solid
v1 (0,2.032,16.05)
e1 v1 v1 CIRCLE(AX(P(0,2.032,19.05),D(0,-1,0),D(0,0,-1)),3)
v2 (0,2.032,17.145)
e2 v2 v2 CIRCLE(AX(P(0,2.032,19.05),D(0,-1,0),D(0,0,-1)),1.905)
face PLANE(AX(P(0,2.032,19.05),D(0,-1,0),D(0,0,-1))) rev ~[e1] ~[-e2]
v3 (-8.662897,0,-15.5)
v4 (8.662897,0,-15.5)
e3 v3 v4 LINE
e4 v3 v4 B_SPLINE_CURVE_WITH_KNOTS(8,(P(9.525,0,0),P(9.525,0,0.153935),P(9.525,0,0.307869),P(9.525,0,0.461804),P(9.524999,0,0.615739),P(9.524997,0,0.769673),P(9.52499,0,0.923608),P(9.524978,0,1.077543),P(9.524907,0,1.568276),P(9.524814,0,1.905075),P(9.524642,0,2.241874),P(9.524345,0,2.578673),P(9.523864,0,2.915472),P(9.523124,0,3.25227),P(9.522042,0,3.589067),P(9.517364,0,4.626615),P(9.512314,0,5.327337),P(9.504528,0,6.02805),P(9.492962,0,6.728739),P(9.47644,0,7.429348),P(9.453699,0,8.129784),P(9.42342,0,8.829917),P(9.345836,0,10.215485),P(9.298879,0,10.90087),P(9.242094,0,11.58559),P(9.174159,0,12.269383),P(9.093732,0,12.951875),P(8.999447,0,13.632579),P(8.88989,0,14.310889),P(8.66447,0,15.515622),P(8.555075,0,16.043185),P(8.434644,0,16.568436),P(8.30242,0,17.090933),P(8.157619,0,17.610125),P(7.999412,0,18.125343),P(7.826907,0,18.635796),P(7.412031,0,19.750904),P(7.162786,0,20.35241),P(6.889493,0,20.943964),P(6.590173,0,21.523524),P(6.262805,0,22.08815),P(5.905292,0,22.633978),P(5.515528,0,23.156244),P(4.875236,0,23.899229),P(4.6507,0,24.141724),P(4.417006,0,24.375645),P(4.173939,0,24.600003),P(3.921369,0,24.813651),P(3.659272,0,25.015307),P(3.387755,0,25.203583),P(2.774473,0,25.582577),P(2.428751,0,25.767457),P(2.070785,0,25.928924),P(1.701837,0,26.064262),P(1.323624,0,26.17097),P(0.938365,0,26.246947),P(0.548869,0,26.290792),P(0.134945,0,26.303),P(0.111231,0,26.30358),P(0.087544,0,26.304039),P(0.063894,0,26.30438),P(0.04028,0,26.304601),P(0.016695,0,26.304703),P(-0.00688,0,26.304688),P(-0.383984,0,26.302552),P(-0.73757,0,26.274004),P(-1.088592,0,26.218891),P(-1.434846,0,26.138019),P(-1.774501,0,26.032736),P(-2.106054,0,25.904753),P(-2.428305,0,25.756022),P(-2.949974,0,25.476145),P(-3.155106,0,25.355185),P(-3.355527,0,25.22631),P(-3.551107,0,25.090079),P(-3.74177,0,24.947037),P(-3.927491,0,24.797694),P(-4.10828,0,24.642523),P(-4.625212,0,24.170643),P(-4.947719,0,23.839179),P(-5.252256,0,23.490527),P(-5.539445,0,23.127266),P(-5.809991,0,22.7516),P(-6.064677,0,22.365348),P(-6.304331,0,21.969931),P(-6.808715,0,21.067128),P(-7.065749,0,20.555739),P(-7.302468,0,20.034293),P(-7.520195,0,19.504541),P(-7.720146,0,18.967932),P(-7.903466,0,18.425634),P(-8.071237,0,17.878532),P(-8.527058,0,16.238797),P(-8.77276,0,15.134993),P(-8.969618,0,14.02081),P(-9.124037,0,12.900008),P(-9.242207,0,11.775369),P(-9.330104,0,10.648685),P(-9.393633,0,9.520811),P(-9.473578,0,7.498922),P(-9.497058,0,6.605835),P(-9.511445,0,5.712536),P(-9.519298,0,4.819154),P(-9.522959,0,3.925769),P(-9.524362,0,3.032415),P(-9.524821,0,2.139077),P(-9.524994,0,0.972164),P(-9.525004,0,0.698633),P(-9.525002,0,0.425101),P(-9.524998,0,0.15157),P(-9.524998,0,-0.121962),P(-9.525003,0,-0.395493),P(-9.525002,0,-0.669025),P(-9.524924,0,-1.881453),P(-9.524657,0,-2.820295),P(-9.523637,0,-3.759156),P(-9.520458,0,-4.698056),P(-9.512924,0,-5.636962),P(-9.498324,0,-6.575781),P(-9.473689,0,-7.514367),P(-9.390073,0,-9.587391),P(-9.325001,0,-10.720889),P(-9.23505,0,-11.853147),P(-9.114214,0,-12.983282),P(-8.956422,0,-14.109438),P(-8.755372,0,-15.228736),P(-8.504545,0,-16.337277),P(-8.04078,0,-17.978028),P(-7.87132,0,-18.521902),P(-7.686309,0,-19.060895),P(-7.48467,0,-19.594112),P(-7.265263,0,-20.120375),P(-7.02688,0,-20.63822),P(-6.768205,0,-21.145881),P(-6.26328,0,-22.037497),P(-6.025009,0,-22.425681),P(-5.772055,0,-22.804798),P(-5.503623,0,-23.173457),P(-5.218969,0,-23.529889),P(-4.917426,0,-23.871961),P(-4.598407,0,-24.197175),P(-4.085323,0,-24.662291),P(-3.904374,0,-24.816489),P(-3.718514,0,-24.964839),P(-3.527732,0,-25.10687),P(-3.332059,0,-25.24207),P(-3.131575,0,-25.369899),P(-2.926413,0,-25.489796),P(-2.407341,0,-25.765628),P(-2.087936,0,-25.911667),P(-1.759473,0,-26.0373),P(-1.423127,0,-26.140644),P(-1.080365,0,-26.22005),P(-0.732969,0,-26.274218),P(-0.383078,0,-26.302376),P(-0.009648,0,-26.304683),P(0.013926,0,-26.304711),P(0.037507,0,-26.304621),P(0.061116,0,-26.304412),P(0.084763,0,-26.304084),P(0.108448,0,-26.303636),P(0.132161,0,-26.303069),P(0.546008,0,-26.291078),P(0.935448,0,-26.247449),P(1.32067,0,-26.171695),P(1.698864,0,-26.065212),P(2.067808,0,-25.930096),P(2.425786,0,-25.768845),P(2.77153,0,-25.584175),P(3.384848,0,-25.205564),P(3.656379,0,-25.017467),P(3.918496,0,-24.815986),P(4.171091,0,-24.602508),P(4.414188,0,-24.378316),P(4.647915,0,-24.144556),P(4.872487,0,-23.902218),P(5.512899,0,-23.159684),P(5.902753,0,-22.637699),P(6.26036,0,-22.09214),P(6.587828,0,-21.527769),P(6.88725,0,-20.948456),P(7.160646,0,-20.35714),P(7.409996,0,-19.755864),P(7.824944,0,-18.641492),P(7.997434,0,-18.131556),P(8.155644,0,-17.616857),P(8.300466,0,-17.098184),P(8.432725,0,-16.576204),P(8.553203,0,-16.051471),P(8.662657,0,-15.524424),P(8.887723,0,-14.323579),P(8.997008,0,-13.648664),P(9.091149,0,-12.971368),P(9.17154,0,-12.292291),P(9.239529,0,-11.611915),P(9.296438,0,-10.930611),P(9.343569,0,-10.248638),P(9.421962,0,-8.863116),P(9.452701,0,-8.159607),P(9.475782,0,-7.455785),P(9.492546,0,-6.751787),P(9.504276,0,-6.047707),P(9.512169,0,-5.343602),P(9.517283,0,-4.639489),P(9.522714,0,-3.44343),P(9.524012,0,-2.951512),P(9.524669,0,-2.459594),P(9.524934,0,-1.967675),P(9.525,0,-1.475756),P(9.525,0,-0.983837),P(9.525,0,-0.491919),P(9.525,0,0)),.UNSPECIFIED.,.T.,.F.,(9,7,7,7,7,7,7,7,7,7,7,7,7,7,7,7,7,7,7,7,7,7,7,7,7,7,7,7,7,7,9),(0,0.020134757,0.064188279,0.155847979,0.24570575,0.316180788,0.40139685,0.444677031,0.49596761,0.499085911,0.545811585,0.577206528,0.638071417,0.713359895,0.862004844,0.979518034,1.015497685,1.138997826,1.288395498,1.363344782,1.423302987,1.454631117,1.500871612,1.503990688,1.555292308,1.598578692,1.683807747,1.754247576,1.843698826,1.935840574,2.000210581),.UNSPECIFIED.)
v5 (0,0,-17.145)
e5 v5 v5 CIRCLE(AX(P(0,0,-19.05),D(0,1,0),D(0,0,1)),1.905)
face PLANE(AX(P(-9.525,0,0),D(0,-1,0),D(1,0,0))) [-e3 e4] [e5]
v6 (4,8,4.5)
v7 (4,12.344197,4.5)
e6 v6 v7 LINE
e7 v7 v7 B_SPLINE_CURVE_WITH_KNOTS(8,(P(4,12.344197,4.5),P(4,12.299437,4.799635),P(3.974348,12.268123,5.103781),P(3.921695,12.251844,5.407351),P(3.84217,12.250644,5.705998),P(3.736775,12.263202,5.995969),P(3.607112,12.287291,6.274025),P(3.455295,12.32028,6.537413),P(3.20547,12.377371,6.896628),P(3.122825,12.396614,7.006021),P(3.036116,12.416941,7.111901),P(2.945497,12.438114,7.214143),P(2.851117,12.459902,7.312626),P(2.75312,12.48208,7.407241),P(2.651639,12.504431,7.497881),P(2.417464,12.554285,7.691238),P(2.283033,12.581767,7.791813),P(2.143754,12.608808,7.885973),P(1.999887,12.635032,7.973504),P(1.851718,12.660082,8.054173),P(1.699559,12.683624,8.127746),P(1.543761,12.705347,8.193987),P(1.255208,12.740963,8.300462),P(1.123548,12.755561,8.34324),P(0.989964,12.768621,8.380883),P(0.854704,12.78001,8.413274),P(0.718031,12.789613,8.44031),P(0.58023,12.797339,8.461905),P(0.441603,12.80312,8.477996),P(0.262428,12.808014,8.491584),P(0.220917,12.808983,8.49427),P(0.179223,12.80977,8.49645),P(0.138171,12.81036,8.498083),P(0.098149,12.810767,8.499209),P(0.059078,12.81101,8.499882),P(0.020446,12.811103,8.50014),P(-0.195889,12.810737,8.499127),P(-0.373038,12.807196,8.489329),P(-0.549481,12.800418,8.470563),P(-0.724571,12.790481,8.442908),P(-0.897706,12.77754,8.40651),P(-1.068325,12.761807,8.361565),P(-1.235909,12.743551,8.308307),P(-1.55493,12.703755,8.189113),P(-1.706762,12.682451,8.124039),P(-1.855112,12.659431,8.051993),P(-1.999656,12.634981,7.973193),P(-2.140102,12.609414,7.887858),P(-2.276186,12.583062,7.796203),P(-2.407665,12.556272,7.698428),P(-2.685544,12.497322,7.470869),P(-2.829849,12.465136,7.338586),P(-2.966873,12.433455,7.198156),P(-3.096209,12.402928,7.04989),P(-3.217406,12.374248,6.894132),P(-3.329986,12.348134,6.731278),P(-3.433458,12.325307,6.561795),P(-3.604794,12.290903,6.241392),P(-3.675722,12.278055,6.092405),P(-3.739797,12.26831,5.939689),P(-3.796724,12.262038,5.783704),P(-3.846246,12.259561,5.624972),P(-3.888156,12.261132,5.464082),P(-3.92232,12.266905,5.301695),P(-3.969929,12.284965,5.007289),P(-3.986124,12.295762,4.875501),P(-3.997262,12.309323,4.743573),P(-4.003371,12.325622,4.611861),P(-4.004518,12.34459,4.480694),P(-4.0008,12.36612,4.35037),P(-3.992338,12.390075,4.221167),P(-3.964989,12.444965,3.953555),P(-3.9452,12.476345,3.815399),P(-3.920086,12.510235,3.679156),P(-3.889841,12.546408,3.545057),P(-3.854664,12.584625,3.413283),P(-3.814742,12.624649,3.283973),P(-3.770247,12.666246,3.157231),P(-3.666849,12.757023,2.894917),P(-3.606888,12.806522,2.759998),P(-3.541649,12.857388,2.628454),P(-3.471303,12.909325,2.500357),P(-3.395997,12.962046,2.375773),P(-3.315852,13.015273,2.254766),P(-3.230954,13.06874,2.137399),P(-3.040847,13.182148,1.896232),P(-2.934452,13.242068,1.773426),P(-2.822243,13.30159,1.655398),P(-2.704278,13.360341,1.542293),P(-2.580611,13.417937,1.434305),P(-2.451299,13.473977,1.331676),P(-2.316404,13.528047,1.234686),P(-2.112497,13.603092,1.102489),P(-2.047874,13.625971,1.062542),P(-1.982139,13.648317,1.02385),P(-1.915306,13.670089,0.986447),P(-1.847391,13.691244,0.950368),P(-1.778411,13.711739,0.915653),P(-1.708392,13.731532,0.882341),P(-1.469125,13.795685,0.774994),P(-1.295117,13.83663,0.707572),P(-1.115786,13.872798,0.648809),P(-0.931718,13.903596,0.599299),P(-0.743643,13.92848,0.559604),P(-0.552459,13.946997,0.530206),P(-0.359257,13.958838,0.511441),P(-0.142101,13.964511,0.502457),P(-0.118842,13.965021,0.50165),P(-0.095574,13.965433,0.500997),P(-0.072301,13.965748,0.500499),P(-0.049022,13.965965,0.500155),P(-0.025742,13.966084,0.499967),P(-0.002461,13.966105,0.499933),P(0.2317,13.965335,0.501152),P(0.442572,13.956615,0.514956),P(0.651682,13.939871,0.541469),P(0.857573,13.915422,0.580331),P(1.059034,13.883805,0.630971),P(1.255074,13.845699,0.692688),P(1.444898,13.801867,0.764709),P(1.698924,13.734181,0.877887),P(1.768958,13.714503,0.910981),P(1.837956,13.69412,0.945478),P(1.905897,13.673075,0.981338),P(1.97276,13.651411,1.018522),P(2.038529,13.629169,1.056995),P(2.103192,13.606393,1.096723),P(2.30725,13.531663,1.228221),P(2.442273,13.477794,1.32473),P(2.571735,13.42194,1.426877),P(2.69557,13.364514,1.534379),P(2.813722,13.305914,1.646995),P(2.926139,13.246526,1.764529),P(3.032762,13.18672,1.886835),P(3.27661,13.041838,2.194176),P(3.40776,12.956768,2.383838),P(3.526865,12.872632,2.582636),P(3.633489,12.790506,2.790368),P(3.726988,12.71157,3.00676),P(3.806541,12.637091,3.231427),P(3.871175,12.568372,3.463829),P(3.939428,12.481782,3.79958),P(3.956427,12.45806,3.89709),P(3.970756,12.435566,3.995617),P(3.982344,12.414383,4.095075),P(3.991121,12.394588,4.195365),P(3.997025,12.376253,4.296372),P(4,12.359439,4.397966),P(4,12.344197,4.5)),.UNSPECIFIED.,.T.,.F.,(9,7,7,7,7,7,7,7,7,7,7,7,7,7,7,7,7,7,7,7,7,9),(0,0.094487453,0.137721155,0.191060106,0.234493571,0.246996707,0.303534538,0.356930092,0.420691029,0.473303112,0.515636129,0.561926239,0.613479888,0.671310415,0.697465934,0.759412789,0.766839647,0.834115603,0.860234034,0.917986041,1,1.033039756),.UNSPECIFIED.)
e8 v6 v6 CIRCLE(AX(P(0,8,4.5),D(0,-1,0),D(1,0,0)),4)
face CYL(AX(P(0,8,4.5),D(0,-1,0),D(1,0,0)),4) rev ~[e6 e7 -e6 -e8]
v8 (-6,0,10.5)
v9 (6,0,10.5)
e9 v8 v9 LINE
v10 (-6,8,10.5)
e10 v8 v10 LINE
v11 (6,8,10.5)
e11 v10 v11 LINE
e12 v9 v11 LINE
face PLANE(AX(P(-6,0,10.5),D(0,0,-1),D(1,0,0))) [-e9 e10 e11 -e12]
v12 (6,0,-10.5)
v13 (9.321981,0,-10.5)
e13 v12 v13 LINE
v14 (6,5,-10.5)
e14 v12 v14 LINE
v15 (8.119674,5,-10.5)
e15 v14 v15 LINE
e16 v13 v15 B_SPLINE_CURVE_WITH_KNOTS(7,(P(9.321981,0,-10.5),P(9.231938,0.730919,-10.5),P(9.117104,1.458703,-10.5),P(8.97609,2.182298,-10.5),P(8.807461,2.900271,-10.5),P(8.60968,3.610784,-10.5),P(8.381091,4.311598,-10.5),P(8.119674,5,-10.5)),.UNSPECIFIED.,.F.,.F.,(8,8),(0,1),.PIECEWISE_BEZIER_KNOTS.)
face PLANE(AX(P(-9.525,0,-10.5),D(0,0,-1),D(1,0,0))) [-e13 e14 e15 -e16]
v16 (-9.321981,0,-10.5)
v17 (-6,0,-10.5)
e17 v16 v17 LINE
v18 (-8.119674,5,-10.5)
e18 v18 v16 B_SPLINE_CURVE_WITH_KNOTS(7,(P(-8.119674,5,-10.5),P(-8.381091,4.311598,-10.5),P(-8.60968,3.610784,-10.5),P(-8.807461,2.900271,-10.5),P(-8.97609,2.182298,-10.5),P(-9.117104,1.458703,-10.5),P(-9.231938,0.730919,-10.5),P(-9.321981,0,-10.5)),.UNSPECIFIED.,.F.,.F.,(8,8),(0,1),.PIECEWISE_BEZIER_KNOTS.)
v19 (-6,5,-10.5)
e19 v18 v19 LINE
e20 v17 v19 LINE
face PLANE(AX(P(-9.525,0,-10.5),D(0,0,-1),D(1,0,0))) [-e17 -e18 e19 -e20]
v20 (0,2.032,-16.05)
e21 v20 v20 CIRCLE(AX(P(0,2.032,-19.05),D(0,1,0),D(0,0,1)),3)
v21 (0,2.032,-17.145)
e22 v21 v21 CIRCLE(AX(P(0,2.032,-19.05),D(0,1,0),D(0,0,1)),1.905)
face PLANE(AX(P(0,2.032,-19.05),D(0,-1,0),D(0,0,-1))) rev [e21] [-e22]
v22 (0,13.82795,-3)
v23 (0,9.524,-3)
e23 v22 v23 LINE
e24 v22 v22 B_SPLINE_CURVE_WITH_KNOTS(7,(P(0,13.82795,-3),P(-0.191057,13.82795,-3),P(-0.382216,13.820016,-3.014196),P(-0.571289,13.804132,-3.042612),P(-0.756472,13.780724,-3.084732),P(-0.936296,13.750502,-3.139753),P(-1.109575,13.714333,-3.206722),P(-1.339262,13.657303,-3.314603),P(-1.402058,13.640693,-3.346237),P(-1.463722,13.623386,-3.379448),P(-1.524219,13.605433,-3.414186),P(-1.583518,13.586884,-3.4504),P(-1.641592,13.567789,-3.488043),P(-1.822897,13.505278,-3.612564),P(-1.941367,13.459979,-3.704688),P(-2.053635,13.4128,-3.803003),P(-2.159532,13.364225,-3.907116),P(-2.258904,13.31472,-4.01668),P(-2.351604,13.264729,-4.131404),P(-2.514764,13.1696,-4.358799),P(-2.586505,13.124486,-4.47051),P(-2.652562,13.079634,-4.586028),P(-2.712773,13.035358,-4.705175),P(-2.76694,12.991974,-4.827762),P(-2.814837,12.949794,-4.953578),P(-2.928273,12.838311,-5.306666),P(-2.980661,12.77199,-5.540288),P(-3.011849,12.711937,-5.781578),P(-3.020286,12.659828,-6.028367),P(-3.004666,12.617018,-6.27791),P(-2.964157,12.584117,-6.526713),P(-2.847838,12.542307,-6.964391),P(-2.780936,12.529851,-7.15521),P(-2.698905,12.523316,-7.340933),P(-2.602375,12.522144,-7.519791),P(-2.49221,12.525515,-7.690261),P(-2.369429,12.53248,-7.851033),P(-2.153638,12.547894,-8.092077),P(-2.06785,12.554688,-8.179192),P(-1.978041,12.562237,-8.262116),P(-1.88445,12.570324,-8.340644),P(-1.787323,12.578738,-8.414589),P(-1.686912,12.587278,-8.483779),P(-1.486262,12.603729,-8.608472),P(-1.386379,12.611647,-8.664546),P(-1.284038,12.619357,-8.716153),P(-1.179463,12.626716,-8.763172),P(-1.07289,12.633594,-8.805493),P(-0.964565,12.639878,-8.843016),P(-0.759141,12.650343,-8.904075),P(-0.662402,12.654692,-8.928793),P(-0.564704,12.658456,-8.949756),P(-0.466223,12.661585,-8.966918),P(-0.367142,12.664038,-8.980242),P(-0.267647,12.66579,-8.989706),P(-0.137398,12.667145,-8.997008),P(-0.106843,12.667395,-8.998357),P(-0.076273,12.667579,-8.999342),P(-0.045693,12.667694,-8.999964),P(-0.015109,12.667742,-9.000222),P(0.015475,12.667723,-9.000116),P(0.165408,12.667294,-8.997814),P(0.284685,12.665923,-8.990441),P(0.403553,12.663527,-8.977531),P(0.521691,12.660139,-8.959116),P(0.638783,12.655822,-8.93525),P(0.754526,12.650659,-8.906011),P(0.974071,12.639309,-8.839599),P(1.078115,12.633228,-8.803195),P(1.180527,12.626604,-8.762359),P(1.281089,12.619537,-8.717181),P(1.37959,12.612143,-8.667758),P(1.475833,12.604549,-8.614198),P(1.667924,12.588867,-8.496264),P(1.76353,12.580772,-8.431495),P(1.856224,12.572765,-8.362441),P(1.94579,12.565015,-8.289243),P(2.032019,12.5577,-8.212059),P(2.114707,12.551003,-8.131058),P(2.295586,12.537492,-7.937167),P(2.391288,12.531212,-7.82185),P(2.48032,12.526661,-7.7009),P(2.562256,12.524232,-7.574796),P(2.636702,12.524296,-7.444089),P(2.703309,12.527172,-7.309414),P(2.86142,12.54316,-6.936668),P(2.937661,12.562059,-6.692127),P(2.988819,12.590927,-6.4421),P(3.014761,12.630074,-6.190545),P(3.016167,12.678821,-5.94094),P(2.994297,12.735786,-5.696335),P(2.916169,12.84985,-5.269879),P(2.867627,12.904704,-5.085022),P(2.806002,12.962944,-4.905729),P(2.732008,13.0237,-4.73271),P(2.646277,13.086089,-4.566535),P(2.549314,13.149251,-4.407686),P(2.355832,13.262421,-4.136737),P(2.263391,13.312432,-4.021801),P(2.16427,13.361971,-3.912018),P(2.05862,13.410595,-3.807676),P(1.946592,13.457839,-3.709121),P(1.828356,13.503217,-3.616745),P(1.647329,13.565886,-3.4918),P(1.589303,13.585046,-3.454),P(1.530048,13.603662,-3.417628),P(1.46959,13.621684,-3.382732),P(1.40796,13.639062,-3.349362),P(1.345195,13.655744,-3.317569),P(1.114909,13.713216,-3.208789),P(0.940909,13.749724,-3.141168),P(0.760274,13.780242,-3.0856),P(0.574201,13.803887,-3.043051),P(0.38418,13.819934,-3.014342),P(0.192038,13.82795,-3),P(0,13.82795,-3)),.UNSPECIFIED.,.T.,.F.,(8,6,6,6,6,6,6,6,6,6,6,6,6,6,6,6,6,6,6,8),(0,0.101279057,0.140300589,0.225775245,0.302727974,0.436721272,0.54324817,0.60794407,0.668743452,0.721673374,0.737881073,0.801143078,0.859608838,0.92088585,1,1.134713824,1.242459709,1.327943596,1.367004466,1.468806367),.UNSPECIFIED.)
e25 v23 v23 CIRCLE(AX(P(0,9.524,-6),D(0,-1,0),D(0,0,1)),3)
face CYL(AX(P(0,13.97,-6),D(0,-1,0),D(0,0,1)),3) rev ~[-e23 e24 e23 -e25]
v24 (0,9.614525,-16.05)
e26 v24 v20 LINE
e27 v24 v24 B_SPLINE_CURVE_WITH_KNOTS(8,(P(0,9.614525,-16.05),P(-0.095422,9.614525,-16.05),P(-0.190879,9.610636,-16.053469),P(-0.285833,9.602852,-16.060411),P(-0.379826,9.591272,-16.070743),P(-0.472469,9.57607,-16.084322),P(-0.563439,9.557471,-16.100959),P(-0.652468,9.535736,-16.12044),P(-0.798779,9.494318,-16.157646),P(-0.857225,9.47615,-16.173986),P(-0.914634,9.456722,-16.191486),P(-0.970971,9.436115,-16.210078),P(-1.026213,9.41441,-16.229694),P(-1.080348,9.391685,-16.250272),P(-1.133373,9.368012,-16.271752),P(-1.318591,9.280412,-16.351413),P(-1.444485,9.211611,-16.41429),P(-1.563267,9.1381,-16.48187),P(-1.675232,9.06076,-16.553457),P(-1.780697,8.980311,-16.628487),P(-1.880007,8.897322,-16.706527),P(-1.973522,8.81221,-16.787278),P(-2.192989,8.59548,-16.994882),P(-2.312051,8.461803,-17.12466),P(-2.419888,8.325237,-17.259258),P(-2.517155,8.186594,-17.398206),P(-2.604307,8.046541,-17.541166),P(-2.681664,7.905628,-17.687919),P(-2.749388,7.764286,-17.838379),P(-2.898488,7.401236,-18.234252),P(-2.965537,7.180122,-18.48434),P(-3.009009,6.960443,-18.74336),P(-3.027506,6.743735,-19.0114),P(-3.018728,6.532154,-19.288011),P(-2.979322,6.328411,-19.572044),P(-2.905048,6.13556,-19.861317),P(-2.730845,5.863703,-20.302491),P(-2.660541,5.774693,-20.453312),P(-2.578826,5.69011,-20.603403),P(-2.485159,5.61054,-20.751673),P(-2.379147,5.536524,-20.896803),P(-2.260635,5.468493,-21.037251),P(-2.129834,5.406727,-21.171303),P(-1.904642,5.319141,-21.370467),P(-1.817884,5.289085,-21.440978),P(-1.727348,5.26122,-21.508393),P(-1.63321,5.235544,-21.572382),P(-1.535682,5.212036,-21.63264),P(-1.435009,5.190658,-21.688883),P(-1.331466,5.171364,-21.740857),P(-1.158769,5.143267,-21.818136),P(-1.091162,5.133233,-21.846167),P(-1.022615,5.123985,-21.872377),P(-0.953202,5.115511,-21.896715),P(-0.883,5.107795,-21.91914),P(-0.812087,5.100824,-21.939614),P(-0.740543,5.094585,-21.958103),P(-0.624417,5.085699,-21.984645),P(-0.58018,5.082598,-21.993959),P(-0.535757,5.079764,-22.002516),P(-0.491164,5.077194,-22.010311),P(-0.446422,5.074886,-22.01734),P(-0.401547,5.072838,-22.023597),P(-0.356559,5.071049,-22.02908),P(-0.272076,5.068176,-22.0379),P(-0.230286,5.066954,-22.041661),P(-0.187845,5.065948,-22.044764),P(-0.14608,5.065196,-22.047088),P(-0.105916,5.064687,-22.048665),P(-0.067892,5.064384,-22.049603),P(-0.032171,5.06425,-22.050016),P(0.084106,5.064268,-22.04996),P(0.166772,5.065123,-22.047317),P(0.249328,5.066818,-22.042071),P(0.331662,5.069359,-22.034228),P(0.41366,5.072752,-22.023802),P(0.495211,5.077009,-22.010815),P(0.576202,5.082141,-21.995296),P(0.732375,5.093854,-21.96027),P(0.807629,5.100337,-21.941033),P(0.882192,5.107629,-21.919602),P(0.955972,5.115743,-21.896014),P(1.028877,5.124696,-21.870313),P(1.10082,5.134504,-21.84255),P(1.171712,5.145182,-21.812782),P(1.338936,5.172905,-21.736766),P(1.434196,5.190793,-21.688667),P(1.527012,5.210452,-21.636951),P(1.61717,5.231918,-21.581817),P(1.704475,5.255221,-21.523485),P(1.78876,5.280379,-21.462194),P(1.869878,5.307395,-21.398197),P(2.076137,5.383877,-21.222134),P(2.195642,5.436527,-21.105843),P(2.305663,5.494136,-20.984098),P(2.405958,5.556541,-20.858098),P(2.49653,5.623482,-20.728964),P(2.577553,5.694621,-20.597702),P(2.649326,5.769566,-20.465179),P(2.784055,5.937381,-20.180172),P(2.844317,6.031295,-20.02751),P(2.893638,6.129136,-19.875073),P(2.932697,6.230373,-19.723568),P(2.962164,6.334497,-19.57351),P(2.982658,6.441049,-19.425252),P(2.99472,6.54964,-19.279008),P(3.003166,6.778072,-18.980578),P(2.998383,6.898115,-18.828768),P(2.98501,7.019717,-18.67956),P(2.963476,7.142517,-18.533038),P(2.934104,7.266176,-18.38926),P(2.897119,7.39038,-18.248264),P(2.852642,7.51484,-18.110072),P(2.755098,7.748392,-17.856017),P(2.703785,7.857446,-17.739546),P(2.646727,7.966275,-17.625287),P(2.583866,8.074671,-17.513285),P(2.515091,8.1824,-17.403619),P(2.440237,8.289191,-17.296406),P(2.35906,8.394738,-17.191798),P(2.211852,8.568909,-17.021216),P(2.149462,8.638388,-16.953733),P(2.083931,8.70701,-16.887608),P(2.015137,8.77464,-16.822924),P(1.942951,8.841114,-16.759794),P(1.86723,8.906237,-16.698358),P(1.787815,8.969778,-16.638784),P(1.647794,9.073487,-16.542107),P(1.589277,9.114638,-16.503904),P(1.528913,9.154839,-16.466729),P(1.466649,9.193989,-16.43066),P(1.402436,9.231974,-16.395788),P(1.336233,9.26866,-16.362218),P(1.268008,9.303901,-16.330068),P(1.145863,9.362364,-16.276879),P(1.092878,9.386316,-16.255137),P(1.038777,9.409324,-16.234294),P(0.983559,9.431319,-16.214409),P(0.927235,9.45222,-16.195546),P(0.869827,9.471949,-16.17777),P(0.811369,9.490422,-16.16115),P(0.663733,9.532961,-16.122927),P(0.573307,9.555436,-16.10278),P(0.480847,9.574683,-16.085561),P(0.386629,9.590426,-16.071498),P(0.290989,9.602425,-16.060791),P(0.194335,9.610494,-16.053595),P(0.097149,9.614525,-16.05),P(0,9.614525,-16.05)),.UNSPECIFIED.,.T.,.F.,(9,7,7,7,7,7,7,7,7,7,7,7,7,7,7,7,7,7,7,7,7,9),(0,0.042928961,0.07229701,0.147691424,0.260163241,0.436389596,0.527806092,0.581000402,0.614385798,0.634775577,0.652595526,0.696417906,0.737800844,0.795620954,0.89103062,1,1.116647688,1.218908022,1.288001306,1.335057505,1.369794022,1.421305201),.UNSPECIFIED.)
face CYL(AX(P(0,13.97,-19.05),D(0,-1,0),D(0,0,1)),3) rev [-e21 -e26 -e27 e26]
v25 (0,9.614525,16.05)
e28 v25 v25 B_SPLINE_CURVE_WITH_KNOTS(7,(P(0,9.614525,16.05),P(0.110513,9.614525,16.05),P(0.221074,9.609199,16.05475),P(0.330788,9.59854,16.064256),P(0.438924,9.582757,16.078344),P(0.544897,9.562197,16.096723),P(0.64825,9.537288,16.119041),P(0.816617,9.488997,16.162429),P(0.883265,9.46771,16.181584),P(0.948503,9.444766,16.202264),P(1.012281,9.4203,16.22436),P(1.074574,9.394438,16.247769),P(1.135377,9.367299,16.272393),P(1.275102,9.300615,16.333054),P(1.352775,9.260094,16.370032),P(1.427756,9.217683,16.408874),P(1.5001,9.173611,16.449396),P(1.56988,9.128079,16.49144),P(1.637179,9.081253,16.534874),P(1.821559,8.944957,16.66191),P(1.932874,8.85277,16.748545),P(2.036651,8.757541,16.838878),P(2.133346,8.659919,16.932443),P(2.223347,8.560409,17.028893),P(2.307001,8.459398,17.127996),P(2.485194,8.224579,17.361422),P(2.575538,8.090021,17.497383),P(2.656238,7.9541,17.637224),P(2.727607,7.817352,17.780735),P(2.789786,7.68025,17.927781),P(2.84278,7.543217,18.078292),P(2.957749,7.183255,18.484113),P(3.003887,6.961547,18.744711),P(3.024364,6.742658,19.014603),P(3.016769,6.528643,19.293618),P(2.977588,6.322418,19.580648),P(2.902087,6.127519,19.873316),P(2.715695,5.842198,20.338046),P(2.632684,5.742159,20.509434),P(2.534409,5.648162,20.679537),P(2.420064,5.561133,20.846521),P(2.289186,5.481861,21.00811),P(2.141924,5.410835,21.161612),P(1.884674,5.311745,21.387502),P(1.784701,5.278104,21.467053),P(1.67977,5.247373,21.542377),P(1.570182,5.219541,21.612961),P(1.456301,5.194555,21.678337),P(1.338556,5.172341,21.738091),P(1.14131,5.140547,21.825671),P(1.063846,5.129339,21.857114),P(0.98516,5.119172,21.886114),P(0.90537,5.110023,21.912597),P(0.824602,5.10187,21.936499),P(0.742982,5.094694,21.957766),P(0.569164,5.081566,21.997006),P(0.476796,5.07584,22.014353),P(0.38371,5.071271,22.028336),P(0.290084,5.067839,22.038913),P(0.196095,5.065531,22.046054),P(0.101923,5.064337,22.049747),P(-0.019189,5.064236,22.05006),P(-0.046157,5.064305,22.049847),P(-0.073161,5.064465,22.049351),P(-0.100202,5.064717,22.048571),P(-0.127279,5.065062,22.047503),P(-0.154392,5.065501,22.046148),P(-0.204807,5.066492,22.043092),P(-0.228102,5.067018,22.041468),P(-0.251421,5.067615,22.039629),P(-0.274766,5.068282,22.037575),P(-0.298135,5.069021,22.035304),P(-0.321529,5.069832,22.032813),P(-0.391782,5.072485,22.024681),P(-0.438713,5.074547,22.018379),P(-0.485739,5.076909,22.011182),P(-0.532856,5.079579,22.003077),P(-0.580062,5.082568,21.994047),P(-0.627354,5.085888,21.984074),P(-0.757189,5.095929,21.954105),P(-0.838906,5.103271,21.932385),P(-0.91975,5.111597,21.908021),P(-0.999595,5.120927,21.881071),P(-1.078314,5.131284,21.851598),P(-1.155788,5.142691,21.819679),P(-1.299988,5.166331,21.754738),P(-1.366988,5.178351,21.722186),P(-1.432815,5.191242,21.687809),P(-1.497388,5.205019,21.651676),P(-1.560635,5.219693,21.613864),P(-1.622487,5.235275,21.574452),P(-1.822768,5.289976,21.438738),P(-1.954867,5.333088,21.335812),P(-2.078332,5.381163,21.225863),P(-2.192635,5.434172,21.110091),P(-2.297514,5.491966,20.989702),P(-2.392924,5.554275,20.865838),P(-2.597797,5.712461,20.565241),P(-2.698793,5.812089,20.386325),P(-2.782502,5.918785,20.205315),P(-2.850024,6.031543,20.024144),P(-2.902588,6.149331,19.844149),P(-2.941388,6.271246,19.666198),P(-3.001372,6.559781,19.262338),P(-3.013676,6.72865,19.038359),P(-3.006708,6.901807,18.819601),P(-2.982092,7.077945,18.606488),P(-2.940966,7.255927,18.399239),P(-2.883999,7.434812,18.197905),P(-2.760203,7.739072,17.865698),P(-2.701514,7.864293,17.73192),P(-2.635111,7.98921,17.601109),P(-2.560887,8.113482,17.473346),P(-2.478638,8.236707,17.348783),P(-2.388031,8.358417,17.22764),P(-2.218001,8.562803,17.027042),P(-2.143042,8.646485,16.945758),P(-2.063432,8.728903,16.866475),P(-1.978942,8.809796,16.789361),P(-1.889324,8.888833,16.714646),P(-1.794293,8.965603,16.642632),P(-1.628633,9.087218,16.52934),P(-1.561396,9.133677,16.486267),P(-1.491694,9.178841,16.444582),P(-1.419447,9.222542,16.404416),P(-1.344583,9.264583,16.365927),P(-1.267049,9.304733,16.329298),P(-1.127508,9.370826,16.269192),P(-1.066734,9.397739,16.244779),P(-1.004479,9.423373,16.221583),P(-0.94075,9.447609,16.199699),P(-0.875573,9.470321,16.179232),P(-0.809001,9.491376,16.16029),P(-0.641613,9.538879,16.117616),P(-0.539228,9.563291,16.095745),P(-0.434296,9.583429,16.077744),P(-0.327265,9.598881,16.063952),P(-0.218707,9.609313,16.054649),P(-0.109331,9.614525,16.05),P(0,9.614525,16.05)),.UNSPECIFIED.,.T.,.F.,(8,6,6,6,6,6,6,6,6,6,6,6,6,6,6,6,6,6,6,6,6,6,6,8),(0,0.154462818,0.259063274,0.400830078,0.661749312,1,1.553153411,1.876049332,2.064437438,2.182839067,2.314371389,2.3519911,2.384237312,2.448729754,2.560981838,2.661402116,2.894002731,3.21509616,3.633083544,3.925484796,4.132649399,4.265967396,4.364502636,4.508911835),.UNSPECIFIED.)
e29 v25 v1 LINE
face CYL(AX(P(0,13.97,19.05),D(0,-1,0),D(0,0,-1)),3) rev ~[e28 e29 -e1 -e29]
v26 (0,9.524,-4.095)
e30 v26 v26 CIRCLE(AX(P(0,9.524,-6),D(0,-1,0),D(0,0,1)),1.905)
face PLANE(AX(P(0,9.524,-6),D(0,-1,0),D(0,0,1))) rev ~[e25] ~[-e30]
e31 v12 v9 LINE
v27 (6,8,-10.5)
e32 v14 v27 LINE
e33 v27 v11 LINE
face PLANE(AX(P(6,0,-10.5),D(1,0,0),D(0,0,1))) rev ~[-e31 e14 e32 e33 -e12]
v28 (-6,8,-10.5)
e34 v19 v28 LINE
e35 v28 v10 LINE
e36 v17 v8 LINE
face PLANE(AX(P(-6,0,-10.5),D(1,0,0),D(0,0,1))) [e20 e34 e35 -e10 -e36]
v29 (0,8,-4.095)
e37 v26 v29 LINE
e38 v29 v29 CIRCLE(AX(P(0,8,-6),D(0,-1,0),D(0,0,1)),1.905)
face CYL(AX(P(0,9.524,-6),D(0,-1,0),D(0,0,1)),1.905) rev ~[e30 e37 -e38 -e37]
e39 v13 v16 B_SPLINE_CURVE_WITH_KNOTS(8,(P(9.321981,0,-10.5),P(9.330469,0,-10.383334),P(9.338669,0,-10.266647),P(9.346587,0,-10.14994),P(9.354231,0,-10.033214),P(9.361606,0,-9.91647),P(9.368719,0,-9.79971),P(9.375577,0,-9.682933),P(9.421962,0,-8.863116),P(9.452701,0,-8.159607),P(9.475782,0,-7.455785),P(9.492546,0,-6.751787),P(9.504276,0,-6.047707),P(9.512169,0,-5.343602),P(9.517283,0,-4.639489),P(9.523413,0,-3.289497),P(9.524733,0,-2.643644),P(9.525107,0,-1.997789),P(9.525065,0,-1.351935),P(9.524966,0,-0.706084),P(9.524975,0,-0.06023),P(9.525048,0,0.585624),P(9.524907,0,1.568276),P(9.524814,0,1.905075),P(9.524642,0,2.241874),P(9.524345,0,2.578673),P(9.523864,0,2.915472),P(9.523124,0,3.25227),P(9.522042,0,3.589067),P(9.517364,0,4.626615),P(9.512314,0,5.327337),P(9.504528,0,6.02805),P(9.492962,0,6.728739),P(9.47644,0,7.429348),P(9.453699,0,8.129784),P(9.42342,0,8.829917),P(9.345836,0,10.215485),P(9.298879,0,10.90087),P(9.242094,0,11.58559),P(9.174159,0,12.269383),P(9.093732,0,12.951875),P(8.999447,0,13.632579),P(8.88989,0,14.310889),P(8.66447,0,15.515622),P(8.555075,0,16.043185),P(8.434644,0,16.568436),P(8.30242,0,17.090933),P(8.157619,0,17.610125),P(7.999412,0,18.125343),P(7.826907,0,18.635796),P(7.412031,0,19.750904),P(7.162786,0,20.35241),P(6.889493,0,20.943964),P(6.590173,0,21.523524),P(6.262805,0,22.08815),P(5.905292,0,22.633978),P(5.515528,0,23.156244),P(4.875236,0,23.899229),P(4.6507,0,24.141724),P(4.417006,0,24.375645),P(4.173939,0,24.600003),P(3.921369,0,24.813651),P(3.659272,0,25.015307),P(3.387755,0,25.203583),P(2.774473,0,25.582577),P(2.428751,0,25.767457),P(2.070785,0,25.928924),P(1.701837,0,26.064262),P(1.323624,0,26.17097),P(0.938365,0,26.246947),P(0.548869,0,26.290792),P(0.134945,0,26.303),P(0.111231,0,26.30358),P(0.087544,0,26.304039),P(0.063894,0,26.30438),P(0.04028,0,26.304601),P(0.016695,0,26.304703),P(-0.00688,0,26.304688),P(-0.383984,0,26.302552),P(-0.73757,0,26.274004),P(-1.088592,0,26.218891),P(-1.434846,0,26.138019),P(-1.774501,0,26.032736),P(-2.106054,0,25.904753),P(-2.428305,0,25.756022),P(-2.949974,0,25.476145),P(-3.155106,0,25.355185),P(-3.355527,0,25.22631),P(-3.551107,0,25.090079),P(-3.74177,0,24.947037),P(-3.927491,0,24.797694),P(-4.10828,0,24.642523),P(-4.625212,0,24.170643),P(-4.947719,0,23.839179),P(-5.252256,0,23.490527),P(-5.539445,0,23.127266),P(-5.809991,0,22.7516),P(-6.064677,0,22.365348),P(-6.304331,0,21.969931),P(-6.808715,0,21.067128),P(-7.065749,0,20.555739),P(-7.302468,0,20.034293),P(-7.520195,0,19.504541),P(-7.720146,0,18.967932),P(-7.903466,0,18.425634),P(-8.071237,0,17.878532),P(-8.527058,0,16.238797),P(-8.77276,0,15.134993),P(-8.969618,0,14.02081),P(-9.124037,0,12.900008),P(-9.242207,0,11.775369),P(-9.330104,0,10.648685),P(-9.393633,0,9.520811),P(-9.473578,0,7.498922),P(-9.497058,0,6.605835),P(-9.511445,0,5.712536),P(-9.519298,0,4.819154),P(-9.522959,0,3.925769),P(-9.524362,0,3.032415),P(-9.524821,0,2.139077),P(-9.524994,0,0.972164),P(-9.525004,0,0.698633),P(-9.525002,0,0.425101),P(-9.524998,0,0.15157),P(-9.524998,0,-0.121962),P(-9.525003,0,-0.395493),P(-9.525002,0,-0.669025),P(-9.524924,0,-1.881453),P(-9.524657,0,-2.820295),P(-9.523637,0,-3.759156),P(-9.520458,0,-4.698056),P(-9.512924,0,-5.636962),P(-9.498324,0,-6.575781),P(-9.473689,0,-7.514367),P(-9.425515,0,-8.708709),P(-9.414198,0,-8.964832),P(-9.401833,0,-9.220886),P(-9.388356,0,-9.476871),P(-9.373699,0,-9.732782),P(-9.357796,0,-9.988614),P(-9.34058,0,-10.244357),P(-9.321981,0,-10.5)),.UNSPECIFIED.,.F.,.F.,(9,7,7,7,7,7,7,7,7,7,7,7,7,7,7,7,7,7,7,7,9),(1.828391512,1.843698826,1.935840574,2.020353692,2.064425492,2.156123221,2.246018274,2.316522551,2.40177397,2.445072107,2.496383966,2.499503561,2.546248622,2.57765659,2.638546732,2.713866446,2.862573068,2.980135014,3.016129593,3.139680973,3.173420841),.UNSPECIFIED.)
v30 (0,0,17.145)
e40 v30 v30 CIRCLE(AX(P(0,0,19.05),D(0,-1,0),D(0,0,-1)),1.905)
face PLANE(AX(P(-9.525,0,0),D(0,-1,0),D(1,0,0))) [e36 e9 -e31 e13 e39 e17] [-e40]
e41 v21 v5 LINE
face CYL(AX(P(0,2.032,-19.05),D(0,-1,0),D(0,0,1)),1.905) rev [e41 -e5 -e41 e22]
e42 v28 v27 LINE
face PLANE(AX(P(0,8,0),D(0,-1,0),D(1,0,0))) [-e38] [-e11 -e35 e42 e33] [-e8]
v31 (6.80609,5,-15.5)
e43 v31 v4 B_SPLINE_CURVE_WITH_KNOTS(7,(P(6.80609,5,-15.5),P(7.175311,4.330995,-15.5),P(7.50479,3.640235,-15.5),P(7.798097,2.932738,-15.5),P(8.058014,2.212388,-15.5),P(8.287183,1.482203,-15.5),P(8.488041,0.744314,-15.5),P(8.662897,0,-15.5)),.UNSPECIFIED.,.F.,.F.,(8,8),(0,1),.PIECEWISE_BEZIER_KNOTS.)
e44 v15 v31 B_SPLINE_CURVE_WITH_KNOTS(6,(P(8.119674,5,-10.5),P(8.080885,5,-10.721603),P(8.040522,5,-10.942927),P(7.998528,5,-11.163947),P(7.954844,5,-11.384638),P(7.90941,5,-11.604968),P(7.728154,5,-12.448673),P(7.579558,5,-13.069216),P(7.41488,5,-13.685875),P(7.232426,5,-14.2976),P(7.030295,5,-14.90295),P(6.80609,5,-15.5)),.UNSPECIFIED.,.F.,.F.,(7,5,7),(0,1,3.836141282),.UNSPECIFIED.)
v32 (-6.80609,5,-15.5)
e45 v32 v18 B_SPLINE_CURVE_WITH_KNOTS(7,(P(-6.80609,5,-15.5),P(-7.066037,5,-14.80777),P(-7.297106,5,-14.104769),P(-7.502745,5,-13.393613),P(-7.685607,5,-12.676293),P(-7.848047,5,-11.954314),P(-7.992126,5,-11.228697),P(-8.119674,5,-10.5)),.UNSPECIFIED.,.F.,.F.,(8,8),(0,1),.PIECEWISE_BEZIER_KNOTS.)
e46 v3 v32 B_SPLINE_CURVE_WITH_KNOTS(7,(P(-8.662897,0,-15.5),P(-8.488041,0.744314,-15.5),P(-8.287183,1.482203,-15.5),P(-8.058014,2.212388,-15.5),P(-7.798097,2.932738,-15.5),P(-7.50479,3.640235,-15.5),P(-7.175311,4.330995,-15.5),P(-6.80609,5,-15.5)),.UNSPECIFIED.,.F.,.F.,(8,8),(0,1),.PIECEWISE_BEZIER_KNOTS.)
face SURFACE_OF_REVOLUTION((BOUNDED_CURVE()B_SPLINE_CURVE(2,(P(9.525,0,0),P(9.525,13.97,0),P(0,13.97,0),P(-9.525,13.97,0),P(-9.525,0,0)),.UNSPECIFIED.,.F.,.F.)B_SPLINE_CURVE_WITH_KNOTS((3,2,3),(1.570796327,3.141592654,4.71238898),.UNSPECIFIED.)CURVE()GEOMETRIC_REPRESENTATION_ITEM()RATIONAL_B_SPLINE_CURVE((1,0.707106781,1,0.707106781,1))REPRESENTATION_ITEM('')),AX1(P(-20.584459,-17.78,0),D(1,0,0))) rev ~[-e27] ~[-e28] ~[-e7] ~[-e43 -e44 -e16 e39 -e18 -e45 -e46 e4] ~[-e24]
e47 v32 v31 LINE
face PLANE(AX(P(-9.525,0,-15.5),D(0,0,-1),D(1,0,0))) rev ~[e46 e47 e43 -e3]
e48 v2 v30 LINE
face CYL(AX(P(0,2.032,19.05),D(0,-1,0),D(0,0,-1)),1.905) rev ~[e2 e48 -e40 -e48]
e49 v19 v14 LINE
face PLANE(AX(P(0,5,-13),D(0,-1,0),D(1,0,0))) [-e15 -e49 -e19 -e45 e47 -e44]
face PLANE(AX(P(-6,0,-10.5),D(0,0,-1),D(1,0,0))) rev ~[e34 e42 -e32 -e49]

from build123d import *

# Parameters (mm, degrees)
CUT_EXTRUDE1_REACH             = 33.75
SKETCH2_W                      = 19.05
SKETCH2_H                      = 64.439050054
CUT_EXTRUDE1_DIRECTION_2_DEPTH = 32.7500001
SKETCH3_W                      = 12
SKETCH3_H                      = 21
CUT_EXTRUDE2_DEPTH             = 8
SKETCH4_R                      = 4
CUT_EXTRUDE3_DEPTH             = 6.9700001
SKETCH7_W                      = 19.05
SKETCH7_H                      = 5
CUT_EXTRUDE4_DEPTH             = 5


with BuildPart() as part:
    # Sketch1 → Revolve1 (revolve)
    with BuildSketch(Plane.XY):
        with BuildLine():
            Line((-9.525, 0), (-9.525, -17.78))
            Line((-9.525, -17.78), (9.525, -17.78))
            Line((9.525, -17.78), (9.525, 0))
            add(Edge.make_bspline(
                [(9.525, 0), (9.525, 13.97), (0, 13.97), (-9.525, 13.97), (-9.525, 0)],
                knots=[1.570796327, 1.570796327, 1.570796327, 3.141592654, 3.141592654, 4.71238898, 4.71238898, 4.71238898], degree=2, weights=[1, 0.707106781, 1, 0.707106781, 1]))
        make_face()
    revolve(axis=Axis((-20.584458519, -17.78, 0), (1, 0, 0)))

    # Sketch2 → Cut-Extrude1 (cut, up to next)
    with BuildSketch(Plane.XY, mode=Mode.PRIVATE) as cut_extrude1_sk1:
        with Locations((0, -32.219525027)):
            Rectangle(SKETCH2_W, SKETCH2_H)
    cut_extrude1_tool1 = extrude(cut_extrude1_sk1.sketch, amount=-CUT_EXTRUDE1_REACH, mode=Mode.PRIVATE) & part.part
    add(cut_extrude1_tool1.solids().sort_by_distance((0, -32.219525, 0))[0], mode=Mode.SUBTRACT)

    # Sketch2 → Cut-Extrude1 direction 2 (cut)
    with BuildSketch(Plane.XY):
        with Locations((0, -32.219525027)):
            Rectangle(SKETCH2_W, SKETCH2_H)
    extrude(amount=CUT_EXTRUDE1_DIRECTION_2_DEPTH, mode=Mode.SUBTRACT)

    # Sketch3 → Cut-Extrude2 (cut)
    with BuildSketch(Plane.XZ):
        Rectangle(SKETCH3_W, SKETCH3_H)
    extrude(amount=-CUT_EXTRUDE2_DEPTH, mode=Mode.SUBTRACT)

    # Sketch4 → Cut-Extrude3 (cut, through all)
    with BuildSketch(Plane.XZ.offset(-8)):
        with Locations((0, 4.5)):
            Circle(SKETCH4_R)
    extrude(amount=-CUT_EXTRUDE3_DEPTH, mode=Mode.SUBTRACT)

    # Sketch5 → Cut-Revolve1 (revolve, cut)
    with BuildSketch(Plane(origin=(0, 0, 0), x_dir=(0, 0, -1), z_dir=(1, 0, 0))):
        Polygon((-16.05, 13.97), (-16.05, 2.032), (-17.145, 2.032), (-17.145, 0), (-19.05, 0), (-19.05, 13.97), align=None)
    cut_revolve1 = revolve(axis=Axis((0, 0, 19.05), (0, -1, 0)), mode=Mode.SUBTRACT)

    # Mirror1: Cut-Revolve1 across plane
    add(cut_revolve1.mirror(Plane.XY), mode=Mode.SUBTRACT)

    # Sketch6 → Cut-Revolve2 (revolve, cut)
    with BuildSketch(Plane(origin=(0, 0, 0), x_dir=(0, 0, -1), z_dir=(1, 0, 0))):
        Polygon((3, 13.97), (3, 9.524), (4.095, 9.524), (4.095, 0), (6, 0), (6, 13.97), align=None)
    revolve(axis=Axis((0, 0, -6), (0, -1, 0)), mode=Mode.SUBTRACT)

    # Sketch7 → Cut-Extrude4 (cut)
    with BuildSketch(Plane.XZ):
        with Locations((0, -13)):
            Rectangle(SKETCH7_W, SKETCH7_H)
    extrude(amount=-CUT_EXTRUDE4_DEPTH, mode=Mode.SUBTRACT)


solid = part.part
